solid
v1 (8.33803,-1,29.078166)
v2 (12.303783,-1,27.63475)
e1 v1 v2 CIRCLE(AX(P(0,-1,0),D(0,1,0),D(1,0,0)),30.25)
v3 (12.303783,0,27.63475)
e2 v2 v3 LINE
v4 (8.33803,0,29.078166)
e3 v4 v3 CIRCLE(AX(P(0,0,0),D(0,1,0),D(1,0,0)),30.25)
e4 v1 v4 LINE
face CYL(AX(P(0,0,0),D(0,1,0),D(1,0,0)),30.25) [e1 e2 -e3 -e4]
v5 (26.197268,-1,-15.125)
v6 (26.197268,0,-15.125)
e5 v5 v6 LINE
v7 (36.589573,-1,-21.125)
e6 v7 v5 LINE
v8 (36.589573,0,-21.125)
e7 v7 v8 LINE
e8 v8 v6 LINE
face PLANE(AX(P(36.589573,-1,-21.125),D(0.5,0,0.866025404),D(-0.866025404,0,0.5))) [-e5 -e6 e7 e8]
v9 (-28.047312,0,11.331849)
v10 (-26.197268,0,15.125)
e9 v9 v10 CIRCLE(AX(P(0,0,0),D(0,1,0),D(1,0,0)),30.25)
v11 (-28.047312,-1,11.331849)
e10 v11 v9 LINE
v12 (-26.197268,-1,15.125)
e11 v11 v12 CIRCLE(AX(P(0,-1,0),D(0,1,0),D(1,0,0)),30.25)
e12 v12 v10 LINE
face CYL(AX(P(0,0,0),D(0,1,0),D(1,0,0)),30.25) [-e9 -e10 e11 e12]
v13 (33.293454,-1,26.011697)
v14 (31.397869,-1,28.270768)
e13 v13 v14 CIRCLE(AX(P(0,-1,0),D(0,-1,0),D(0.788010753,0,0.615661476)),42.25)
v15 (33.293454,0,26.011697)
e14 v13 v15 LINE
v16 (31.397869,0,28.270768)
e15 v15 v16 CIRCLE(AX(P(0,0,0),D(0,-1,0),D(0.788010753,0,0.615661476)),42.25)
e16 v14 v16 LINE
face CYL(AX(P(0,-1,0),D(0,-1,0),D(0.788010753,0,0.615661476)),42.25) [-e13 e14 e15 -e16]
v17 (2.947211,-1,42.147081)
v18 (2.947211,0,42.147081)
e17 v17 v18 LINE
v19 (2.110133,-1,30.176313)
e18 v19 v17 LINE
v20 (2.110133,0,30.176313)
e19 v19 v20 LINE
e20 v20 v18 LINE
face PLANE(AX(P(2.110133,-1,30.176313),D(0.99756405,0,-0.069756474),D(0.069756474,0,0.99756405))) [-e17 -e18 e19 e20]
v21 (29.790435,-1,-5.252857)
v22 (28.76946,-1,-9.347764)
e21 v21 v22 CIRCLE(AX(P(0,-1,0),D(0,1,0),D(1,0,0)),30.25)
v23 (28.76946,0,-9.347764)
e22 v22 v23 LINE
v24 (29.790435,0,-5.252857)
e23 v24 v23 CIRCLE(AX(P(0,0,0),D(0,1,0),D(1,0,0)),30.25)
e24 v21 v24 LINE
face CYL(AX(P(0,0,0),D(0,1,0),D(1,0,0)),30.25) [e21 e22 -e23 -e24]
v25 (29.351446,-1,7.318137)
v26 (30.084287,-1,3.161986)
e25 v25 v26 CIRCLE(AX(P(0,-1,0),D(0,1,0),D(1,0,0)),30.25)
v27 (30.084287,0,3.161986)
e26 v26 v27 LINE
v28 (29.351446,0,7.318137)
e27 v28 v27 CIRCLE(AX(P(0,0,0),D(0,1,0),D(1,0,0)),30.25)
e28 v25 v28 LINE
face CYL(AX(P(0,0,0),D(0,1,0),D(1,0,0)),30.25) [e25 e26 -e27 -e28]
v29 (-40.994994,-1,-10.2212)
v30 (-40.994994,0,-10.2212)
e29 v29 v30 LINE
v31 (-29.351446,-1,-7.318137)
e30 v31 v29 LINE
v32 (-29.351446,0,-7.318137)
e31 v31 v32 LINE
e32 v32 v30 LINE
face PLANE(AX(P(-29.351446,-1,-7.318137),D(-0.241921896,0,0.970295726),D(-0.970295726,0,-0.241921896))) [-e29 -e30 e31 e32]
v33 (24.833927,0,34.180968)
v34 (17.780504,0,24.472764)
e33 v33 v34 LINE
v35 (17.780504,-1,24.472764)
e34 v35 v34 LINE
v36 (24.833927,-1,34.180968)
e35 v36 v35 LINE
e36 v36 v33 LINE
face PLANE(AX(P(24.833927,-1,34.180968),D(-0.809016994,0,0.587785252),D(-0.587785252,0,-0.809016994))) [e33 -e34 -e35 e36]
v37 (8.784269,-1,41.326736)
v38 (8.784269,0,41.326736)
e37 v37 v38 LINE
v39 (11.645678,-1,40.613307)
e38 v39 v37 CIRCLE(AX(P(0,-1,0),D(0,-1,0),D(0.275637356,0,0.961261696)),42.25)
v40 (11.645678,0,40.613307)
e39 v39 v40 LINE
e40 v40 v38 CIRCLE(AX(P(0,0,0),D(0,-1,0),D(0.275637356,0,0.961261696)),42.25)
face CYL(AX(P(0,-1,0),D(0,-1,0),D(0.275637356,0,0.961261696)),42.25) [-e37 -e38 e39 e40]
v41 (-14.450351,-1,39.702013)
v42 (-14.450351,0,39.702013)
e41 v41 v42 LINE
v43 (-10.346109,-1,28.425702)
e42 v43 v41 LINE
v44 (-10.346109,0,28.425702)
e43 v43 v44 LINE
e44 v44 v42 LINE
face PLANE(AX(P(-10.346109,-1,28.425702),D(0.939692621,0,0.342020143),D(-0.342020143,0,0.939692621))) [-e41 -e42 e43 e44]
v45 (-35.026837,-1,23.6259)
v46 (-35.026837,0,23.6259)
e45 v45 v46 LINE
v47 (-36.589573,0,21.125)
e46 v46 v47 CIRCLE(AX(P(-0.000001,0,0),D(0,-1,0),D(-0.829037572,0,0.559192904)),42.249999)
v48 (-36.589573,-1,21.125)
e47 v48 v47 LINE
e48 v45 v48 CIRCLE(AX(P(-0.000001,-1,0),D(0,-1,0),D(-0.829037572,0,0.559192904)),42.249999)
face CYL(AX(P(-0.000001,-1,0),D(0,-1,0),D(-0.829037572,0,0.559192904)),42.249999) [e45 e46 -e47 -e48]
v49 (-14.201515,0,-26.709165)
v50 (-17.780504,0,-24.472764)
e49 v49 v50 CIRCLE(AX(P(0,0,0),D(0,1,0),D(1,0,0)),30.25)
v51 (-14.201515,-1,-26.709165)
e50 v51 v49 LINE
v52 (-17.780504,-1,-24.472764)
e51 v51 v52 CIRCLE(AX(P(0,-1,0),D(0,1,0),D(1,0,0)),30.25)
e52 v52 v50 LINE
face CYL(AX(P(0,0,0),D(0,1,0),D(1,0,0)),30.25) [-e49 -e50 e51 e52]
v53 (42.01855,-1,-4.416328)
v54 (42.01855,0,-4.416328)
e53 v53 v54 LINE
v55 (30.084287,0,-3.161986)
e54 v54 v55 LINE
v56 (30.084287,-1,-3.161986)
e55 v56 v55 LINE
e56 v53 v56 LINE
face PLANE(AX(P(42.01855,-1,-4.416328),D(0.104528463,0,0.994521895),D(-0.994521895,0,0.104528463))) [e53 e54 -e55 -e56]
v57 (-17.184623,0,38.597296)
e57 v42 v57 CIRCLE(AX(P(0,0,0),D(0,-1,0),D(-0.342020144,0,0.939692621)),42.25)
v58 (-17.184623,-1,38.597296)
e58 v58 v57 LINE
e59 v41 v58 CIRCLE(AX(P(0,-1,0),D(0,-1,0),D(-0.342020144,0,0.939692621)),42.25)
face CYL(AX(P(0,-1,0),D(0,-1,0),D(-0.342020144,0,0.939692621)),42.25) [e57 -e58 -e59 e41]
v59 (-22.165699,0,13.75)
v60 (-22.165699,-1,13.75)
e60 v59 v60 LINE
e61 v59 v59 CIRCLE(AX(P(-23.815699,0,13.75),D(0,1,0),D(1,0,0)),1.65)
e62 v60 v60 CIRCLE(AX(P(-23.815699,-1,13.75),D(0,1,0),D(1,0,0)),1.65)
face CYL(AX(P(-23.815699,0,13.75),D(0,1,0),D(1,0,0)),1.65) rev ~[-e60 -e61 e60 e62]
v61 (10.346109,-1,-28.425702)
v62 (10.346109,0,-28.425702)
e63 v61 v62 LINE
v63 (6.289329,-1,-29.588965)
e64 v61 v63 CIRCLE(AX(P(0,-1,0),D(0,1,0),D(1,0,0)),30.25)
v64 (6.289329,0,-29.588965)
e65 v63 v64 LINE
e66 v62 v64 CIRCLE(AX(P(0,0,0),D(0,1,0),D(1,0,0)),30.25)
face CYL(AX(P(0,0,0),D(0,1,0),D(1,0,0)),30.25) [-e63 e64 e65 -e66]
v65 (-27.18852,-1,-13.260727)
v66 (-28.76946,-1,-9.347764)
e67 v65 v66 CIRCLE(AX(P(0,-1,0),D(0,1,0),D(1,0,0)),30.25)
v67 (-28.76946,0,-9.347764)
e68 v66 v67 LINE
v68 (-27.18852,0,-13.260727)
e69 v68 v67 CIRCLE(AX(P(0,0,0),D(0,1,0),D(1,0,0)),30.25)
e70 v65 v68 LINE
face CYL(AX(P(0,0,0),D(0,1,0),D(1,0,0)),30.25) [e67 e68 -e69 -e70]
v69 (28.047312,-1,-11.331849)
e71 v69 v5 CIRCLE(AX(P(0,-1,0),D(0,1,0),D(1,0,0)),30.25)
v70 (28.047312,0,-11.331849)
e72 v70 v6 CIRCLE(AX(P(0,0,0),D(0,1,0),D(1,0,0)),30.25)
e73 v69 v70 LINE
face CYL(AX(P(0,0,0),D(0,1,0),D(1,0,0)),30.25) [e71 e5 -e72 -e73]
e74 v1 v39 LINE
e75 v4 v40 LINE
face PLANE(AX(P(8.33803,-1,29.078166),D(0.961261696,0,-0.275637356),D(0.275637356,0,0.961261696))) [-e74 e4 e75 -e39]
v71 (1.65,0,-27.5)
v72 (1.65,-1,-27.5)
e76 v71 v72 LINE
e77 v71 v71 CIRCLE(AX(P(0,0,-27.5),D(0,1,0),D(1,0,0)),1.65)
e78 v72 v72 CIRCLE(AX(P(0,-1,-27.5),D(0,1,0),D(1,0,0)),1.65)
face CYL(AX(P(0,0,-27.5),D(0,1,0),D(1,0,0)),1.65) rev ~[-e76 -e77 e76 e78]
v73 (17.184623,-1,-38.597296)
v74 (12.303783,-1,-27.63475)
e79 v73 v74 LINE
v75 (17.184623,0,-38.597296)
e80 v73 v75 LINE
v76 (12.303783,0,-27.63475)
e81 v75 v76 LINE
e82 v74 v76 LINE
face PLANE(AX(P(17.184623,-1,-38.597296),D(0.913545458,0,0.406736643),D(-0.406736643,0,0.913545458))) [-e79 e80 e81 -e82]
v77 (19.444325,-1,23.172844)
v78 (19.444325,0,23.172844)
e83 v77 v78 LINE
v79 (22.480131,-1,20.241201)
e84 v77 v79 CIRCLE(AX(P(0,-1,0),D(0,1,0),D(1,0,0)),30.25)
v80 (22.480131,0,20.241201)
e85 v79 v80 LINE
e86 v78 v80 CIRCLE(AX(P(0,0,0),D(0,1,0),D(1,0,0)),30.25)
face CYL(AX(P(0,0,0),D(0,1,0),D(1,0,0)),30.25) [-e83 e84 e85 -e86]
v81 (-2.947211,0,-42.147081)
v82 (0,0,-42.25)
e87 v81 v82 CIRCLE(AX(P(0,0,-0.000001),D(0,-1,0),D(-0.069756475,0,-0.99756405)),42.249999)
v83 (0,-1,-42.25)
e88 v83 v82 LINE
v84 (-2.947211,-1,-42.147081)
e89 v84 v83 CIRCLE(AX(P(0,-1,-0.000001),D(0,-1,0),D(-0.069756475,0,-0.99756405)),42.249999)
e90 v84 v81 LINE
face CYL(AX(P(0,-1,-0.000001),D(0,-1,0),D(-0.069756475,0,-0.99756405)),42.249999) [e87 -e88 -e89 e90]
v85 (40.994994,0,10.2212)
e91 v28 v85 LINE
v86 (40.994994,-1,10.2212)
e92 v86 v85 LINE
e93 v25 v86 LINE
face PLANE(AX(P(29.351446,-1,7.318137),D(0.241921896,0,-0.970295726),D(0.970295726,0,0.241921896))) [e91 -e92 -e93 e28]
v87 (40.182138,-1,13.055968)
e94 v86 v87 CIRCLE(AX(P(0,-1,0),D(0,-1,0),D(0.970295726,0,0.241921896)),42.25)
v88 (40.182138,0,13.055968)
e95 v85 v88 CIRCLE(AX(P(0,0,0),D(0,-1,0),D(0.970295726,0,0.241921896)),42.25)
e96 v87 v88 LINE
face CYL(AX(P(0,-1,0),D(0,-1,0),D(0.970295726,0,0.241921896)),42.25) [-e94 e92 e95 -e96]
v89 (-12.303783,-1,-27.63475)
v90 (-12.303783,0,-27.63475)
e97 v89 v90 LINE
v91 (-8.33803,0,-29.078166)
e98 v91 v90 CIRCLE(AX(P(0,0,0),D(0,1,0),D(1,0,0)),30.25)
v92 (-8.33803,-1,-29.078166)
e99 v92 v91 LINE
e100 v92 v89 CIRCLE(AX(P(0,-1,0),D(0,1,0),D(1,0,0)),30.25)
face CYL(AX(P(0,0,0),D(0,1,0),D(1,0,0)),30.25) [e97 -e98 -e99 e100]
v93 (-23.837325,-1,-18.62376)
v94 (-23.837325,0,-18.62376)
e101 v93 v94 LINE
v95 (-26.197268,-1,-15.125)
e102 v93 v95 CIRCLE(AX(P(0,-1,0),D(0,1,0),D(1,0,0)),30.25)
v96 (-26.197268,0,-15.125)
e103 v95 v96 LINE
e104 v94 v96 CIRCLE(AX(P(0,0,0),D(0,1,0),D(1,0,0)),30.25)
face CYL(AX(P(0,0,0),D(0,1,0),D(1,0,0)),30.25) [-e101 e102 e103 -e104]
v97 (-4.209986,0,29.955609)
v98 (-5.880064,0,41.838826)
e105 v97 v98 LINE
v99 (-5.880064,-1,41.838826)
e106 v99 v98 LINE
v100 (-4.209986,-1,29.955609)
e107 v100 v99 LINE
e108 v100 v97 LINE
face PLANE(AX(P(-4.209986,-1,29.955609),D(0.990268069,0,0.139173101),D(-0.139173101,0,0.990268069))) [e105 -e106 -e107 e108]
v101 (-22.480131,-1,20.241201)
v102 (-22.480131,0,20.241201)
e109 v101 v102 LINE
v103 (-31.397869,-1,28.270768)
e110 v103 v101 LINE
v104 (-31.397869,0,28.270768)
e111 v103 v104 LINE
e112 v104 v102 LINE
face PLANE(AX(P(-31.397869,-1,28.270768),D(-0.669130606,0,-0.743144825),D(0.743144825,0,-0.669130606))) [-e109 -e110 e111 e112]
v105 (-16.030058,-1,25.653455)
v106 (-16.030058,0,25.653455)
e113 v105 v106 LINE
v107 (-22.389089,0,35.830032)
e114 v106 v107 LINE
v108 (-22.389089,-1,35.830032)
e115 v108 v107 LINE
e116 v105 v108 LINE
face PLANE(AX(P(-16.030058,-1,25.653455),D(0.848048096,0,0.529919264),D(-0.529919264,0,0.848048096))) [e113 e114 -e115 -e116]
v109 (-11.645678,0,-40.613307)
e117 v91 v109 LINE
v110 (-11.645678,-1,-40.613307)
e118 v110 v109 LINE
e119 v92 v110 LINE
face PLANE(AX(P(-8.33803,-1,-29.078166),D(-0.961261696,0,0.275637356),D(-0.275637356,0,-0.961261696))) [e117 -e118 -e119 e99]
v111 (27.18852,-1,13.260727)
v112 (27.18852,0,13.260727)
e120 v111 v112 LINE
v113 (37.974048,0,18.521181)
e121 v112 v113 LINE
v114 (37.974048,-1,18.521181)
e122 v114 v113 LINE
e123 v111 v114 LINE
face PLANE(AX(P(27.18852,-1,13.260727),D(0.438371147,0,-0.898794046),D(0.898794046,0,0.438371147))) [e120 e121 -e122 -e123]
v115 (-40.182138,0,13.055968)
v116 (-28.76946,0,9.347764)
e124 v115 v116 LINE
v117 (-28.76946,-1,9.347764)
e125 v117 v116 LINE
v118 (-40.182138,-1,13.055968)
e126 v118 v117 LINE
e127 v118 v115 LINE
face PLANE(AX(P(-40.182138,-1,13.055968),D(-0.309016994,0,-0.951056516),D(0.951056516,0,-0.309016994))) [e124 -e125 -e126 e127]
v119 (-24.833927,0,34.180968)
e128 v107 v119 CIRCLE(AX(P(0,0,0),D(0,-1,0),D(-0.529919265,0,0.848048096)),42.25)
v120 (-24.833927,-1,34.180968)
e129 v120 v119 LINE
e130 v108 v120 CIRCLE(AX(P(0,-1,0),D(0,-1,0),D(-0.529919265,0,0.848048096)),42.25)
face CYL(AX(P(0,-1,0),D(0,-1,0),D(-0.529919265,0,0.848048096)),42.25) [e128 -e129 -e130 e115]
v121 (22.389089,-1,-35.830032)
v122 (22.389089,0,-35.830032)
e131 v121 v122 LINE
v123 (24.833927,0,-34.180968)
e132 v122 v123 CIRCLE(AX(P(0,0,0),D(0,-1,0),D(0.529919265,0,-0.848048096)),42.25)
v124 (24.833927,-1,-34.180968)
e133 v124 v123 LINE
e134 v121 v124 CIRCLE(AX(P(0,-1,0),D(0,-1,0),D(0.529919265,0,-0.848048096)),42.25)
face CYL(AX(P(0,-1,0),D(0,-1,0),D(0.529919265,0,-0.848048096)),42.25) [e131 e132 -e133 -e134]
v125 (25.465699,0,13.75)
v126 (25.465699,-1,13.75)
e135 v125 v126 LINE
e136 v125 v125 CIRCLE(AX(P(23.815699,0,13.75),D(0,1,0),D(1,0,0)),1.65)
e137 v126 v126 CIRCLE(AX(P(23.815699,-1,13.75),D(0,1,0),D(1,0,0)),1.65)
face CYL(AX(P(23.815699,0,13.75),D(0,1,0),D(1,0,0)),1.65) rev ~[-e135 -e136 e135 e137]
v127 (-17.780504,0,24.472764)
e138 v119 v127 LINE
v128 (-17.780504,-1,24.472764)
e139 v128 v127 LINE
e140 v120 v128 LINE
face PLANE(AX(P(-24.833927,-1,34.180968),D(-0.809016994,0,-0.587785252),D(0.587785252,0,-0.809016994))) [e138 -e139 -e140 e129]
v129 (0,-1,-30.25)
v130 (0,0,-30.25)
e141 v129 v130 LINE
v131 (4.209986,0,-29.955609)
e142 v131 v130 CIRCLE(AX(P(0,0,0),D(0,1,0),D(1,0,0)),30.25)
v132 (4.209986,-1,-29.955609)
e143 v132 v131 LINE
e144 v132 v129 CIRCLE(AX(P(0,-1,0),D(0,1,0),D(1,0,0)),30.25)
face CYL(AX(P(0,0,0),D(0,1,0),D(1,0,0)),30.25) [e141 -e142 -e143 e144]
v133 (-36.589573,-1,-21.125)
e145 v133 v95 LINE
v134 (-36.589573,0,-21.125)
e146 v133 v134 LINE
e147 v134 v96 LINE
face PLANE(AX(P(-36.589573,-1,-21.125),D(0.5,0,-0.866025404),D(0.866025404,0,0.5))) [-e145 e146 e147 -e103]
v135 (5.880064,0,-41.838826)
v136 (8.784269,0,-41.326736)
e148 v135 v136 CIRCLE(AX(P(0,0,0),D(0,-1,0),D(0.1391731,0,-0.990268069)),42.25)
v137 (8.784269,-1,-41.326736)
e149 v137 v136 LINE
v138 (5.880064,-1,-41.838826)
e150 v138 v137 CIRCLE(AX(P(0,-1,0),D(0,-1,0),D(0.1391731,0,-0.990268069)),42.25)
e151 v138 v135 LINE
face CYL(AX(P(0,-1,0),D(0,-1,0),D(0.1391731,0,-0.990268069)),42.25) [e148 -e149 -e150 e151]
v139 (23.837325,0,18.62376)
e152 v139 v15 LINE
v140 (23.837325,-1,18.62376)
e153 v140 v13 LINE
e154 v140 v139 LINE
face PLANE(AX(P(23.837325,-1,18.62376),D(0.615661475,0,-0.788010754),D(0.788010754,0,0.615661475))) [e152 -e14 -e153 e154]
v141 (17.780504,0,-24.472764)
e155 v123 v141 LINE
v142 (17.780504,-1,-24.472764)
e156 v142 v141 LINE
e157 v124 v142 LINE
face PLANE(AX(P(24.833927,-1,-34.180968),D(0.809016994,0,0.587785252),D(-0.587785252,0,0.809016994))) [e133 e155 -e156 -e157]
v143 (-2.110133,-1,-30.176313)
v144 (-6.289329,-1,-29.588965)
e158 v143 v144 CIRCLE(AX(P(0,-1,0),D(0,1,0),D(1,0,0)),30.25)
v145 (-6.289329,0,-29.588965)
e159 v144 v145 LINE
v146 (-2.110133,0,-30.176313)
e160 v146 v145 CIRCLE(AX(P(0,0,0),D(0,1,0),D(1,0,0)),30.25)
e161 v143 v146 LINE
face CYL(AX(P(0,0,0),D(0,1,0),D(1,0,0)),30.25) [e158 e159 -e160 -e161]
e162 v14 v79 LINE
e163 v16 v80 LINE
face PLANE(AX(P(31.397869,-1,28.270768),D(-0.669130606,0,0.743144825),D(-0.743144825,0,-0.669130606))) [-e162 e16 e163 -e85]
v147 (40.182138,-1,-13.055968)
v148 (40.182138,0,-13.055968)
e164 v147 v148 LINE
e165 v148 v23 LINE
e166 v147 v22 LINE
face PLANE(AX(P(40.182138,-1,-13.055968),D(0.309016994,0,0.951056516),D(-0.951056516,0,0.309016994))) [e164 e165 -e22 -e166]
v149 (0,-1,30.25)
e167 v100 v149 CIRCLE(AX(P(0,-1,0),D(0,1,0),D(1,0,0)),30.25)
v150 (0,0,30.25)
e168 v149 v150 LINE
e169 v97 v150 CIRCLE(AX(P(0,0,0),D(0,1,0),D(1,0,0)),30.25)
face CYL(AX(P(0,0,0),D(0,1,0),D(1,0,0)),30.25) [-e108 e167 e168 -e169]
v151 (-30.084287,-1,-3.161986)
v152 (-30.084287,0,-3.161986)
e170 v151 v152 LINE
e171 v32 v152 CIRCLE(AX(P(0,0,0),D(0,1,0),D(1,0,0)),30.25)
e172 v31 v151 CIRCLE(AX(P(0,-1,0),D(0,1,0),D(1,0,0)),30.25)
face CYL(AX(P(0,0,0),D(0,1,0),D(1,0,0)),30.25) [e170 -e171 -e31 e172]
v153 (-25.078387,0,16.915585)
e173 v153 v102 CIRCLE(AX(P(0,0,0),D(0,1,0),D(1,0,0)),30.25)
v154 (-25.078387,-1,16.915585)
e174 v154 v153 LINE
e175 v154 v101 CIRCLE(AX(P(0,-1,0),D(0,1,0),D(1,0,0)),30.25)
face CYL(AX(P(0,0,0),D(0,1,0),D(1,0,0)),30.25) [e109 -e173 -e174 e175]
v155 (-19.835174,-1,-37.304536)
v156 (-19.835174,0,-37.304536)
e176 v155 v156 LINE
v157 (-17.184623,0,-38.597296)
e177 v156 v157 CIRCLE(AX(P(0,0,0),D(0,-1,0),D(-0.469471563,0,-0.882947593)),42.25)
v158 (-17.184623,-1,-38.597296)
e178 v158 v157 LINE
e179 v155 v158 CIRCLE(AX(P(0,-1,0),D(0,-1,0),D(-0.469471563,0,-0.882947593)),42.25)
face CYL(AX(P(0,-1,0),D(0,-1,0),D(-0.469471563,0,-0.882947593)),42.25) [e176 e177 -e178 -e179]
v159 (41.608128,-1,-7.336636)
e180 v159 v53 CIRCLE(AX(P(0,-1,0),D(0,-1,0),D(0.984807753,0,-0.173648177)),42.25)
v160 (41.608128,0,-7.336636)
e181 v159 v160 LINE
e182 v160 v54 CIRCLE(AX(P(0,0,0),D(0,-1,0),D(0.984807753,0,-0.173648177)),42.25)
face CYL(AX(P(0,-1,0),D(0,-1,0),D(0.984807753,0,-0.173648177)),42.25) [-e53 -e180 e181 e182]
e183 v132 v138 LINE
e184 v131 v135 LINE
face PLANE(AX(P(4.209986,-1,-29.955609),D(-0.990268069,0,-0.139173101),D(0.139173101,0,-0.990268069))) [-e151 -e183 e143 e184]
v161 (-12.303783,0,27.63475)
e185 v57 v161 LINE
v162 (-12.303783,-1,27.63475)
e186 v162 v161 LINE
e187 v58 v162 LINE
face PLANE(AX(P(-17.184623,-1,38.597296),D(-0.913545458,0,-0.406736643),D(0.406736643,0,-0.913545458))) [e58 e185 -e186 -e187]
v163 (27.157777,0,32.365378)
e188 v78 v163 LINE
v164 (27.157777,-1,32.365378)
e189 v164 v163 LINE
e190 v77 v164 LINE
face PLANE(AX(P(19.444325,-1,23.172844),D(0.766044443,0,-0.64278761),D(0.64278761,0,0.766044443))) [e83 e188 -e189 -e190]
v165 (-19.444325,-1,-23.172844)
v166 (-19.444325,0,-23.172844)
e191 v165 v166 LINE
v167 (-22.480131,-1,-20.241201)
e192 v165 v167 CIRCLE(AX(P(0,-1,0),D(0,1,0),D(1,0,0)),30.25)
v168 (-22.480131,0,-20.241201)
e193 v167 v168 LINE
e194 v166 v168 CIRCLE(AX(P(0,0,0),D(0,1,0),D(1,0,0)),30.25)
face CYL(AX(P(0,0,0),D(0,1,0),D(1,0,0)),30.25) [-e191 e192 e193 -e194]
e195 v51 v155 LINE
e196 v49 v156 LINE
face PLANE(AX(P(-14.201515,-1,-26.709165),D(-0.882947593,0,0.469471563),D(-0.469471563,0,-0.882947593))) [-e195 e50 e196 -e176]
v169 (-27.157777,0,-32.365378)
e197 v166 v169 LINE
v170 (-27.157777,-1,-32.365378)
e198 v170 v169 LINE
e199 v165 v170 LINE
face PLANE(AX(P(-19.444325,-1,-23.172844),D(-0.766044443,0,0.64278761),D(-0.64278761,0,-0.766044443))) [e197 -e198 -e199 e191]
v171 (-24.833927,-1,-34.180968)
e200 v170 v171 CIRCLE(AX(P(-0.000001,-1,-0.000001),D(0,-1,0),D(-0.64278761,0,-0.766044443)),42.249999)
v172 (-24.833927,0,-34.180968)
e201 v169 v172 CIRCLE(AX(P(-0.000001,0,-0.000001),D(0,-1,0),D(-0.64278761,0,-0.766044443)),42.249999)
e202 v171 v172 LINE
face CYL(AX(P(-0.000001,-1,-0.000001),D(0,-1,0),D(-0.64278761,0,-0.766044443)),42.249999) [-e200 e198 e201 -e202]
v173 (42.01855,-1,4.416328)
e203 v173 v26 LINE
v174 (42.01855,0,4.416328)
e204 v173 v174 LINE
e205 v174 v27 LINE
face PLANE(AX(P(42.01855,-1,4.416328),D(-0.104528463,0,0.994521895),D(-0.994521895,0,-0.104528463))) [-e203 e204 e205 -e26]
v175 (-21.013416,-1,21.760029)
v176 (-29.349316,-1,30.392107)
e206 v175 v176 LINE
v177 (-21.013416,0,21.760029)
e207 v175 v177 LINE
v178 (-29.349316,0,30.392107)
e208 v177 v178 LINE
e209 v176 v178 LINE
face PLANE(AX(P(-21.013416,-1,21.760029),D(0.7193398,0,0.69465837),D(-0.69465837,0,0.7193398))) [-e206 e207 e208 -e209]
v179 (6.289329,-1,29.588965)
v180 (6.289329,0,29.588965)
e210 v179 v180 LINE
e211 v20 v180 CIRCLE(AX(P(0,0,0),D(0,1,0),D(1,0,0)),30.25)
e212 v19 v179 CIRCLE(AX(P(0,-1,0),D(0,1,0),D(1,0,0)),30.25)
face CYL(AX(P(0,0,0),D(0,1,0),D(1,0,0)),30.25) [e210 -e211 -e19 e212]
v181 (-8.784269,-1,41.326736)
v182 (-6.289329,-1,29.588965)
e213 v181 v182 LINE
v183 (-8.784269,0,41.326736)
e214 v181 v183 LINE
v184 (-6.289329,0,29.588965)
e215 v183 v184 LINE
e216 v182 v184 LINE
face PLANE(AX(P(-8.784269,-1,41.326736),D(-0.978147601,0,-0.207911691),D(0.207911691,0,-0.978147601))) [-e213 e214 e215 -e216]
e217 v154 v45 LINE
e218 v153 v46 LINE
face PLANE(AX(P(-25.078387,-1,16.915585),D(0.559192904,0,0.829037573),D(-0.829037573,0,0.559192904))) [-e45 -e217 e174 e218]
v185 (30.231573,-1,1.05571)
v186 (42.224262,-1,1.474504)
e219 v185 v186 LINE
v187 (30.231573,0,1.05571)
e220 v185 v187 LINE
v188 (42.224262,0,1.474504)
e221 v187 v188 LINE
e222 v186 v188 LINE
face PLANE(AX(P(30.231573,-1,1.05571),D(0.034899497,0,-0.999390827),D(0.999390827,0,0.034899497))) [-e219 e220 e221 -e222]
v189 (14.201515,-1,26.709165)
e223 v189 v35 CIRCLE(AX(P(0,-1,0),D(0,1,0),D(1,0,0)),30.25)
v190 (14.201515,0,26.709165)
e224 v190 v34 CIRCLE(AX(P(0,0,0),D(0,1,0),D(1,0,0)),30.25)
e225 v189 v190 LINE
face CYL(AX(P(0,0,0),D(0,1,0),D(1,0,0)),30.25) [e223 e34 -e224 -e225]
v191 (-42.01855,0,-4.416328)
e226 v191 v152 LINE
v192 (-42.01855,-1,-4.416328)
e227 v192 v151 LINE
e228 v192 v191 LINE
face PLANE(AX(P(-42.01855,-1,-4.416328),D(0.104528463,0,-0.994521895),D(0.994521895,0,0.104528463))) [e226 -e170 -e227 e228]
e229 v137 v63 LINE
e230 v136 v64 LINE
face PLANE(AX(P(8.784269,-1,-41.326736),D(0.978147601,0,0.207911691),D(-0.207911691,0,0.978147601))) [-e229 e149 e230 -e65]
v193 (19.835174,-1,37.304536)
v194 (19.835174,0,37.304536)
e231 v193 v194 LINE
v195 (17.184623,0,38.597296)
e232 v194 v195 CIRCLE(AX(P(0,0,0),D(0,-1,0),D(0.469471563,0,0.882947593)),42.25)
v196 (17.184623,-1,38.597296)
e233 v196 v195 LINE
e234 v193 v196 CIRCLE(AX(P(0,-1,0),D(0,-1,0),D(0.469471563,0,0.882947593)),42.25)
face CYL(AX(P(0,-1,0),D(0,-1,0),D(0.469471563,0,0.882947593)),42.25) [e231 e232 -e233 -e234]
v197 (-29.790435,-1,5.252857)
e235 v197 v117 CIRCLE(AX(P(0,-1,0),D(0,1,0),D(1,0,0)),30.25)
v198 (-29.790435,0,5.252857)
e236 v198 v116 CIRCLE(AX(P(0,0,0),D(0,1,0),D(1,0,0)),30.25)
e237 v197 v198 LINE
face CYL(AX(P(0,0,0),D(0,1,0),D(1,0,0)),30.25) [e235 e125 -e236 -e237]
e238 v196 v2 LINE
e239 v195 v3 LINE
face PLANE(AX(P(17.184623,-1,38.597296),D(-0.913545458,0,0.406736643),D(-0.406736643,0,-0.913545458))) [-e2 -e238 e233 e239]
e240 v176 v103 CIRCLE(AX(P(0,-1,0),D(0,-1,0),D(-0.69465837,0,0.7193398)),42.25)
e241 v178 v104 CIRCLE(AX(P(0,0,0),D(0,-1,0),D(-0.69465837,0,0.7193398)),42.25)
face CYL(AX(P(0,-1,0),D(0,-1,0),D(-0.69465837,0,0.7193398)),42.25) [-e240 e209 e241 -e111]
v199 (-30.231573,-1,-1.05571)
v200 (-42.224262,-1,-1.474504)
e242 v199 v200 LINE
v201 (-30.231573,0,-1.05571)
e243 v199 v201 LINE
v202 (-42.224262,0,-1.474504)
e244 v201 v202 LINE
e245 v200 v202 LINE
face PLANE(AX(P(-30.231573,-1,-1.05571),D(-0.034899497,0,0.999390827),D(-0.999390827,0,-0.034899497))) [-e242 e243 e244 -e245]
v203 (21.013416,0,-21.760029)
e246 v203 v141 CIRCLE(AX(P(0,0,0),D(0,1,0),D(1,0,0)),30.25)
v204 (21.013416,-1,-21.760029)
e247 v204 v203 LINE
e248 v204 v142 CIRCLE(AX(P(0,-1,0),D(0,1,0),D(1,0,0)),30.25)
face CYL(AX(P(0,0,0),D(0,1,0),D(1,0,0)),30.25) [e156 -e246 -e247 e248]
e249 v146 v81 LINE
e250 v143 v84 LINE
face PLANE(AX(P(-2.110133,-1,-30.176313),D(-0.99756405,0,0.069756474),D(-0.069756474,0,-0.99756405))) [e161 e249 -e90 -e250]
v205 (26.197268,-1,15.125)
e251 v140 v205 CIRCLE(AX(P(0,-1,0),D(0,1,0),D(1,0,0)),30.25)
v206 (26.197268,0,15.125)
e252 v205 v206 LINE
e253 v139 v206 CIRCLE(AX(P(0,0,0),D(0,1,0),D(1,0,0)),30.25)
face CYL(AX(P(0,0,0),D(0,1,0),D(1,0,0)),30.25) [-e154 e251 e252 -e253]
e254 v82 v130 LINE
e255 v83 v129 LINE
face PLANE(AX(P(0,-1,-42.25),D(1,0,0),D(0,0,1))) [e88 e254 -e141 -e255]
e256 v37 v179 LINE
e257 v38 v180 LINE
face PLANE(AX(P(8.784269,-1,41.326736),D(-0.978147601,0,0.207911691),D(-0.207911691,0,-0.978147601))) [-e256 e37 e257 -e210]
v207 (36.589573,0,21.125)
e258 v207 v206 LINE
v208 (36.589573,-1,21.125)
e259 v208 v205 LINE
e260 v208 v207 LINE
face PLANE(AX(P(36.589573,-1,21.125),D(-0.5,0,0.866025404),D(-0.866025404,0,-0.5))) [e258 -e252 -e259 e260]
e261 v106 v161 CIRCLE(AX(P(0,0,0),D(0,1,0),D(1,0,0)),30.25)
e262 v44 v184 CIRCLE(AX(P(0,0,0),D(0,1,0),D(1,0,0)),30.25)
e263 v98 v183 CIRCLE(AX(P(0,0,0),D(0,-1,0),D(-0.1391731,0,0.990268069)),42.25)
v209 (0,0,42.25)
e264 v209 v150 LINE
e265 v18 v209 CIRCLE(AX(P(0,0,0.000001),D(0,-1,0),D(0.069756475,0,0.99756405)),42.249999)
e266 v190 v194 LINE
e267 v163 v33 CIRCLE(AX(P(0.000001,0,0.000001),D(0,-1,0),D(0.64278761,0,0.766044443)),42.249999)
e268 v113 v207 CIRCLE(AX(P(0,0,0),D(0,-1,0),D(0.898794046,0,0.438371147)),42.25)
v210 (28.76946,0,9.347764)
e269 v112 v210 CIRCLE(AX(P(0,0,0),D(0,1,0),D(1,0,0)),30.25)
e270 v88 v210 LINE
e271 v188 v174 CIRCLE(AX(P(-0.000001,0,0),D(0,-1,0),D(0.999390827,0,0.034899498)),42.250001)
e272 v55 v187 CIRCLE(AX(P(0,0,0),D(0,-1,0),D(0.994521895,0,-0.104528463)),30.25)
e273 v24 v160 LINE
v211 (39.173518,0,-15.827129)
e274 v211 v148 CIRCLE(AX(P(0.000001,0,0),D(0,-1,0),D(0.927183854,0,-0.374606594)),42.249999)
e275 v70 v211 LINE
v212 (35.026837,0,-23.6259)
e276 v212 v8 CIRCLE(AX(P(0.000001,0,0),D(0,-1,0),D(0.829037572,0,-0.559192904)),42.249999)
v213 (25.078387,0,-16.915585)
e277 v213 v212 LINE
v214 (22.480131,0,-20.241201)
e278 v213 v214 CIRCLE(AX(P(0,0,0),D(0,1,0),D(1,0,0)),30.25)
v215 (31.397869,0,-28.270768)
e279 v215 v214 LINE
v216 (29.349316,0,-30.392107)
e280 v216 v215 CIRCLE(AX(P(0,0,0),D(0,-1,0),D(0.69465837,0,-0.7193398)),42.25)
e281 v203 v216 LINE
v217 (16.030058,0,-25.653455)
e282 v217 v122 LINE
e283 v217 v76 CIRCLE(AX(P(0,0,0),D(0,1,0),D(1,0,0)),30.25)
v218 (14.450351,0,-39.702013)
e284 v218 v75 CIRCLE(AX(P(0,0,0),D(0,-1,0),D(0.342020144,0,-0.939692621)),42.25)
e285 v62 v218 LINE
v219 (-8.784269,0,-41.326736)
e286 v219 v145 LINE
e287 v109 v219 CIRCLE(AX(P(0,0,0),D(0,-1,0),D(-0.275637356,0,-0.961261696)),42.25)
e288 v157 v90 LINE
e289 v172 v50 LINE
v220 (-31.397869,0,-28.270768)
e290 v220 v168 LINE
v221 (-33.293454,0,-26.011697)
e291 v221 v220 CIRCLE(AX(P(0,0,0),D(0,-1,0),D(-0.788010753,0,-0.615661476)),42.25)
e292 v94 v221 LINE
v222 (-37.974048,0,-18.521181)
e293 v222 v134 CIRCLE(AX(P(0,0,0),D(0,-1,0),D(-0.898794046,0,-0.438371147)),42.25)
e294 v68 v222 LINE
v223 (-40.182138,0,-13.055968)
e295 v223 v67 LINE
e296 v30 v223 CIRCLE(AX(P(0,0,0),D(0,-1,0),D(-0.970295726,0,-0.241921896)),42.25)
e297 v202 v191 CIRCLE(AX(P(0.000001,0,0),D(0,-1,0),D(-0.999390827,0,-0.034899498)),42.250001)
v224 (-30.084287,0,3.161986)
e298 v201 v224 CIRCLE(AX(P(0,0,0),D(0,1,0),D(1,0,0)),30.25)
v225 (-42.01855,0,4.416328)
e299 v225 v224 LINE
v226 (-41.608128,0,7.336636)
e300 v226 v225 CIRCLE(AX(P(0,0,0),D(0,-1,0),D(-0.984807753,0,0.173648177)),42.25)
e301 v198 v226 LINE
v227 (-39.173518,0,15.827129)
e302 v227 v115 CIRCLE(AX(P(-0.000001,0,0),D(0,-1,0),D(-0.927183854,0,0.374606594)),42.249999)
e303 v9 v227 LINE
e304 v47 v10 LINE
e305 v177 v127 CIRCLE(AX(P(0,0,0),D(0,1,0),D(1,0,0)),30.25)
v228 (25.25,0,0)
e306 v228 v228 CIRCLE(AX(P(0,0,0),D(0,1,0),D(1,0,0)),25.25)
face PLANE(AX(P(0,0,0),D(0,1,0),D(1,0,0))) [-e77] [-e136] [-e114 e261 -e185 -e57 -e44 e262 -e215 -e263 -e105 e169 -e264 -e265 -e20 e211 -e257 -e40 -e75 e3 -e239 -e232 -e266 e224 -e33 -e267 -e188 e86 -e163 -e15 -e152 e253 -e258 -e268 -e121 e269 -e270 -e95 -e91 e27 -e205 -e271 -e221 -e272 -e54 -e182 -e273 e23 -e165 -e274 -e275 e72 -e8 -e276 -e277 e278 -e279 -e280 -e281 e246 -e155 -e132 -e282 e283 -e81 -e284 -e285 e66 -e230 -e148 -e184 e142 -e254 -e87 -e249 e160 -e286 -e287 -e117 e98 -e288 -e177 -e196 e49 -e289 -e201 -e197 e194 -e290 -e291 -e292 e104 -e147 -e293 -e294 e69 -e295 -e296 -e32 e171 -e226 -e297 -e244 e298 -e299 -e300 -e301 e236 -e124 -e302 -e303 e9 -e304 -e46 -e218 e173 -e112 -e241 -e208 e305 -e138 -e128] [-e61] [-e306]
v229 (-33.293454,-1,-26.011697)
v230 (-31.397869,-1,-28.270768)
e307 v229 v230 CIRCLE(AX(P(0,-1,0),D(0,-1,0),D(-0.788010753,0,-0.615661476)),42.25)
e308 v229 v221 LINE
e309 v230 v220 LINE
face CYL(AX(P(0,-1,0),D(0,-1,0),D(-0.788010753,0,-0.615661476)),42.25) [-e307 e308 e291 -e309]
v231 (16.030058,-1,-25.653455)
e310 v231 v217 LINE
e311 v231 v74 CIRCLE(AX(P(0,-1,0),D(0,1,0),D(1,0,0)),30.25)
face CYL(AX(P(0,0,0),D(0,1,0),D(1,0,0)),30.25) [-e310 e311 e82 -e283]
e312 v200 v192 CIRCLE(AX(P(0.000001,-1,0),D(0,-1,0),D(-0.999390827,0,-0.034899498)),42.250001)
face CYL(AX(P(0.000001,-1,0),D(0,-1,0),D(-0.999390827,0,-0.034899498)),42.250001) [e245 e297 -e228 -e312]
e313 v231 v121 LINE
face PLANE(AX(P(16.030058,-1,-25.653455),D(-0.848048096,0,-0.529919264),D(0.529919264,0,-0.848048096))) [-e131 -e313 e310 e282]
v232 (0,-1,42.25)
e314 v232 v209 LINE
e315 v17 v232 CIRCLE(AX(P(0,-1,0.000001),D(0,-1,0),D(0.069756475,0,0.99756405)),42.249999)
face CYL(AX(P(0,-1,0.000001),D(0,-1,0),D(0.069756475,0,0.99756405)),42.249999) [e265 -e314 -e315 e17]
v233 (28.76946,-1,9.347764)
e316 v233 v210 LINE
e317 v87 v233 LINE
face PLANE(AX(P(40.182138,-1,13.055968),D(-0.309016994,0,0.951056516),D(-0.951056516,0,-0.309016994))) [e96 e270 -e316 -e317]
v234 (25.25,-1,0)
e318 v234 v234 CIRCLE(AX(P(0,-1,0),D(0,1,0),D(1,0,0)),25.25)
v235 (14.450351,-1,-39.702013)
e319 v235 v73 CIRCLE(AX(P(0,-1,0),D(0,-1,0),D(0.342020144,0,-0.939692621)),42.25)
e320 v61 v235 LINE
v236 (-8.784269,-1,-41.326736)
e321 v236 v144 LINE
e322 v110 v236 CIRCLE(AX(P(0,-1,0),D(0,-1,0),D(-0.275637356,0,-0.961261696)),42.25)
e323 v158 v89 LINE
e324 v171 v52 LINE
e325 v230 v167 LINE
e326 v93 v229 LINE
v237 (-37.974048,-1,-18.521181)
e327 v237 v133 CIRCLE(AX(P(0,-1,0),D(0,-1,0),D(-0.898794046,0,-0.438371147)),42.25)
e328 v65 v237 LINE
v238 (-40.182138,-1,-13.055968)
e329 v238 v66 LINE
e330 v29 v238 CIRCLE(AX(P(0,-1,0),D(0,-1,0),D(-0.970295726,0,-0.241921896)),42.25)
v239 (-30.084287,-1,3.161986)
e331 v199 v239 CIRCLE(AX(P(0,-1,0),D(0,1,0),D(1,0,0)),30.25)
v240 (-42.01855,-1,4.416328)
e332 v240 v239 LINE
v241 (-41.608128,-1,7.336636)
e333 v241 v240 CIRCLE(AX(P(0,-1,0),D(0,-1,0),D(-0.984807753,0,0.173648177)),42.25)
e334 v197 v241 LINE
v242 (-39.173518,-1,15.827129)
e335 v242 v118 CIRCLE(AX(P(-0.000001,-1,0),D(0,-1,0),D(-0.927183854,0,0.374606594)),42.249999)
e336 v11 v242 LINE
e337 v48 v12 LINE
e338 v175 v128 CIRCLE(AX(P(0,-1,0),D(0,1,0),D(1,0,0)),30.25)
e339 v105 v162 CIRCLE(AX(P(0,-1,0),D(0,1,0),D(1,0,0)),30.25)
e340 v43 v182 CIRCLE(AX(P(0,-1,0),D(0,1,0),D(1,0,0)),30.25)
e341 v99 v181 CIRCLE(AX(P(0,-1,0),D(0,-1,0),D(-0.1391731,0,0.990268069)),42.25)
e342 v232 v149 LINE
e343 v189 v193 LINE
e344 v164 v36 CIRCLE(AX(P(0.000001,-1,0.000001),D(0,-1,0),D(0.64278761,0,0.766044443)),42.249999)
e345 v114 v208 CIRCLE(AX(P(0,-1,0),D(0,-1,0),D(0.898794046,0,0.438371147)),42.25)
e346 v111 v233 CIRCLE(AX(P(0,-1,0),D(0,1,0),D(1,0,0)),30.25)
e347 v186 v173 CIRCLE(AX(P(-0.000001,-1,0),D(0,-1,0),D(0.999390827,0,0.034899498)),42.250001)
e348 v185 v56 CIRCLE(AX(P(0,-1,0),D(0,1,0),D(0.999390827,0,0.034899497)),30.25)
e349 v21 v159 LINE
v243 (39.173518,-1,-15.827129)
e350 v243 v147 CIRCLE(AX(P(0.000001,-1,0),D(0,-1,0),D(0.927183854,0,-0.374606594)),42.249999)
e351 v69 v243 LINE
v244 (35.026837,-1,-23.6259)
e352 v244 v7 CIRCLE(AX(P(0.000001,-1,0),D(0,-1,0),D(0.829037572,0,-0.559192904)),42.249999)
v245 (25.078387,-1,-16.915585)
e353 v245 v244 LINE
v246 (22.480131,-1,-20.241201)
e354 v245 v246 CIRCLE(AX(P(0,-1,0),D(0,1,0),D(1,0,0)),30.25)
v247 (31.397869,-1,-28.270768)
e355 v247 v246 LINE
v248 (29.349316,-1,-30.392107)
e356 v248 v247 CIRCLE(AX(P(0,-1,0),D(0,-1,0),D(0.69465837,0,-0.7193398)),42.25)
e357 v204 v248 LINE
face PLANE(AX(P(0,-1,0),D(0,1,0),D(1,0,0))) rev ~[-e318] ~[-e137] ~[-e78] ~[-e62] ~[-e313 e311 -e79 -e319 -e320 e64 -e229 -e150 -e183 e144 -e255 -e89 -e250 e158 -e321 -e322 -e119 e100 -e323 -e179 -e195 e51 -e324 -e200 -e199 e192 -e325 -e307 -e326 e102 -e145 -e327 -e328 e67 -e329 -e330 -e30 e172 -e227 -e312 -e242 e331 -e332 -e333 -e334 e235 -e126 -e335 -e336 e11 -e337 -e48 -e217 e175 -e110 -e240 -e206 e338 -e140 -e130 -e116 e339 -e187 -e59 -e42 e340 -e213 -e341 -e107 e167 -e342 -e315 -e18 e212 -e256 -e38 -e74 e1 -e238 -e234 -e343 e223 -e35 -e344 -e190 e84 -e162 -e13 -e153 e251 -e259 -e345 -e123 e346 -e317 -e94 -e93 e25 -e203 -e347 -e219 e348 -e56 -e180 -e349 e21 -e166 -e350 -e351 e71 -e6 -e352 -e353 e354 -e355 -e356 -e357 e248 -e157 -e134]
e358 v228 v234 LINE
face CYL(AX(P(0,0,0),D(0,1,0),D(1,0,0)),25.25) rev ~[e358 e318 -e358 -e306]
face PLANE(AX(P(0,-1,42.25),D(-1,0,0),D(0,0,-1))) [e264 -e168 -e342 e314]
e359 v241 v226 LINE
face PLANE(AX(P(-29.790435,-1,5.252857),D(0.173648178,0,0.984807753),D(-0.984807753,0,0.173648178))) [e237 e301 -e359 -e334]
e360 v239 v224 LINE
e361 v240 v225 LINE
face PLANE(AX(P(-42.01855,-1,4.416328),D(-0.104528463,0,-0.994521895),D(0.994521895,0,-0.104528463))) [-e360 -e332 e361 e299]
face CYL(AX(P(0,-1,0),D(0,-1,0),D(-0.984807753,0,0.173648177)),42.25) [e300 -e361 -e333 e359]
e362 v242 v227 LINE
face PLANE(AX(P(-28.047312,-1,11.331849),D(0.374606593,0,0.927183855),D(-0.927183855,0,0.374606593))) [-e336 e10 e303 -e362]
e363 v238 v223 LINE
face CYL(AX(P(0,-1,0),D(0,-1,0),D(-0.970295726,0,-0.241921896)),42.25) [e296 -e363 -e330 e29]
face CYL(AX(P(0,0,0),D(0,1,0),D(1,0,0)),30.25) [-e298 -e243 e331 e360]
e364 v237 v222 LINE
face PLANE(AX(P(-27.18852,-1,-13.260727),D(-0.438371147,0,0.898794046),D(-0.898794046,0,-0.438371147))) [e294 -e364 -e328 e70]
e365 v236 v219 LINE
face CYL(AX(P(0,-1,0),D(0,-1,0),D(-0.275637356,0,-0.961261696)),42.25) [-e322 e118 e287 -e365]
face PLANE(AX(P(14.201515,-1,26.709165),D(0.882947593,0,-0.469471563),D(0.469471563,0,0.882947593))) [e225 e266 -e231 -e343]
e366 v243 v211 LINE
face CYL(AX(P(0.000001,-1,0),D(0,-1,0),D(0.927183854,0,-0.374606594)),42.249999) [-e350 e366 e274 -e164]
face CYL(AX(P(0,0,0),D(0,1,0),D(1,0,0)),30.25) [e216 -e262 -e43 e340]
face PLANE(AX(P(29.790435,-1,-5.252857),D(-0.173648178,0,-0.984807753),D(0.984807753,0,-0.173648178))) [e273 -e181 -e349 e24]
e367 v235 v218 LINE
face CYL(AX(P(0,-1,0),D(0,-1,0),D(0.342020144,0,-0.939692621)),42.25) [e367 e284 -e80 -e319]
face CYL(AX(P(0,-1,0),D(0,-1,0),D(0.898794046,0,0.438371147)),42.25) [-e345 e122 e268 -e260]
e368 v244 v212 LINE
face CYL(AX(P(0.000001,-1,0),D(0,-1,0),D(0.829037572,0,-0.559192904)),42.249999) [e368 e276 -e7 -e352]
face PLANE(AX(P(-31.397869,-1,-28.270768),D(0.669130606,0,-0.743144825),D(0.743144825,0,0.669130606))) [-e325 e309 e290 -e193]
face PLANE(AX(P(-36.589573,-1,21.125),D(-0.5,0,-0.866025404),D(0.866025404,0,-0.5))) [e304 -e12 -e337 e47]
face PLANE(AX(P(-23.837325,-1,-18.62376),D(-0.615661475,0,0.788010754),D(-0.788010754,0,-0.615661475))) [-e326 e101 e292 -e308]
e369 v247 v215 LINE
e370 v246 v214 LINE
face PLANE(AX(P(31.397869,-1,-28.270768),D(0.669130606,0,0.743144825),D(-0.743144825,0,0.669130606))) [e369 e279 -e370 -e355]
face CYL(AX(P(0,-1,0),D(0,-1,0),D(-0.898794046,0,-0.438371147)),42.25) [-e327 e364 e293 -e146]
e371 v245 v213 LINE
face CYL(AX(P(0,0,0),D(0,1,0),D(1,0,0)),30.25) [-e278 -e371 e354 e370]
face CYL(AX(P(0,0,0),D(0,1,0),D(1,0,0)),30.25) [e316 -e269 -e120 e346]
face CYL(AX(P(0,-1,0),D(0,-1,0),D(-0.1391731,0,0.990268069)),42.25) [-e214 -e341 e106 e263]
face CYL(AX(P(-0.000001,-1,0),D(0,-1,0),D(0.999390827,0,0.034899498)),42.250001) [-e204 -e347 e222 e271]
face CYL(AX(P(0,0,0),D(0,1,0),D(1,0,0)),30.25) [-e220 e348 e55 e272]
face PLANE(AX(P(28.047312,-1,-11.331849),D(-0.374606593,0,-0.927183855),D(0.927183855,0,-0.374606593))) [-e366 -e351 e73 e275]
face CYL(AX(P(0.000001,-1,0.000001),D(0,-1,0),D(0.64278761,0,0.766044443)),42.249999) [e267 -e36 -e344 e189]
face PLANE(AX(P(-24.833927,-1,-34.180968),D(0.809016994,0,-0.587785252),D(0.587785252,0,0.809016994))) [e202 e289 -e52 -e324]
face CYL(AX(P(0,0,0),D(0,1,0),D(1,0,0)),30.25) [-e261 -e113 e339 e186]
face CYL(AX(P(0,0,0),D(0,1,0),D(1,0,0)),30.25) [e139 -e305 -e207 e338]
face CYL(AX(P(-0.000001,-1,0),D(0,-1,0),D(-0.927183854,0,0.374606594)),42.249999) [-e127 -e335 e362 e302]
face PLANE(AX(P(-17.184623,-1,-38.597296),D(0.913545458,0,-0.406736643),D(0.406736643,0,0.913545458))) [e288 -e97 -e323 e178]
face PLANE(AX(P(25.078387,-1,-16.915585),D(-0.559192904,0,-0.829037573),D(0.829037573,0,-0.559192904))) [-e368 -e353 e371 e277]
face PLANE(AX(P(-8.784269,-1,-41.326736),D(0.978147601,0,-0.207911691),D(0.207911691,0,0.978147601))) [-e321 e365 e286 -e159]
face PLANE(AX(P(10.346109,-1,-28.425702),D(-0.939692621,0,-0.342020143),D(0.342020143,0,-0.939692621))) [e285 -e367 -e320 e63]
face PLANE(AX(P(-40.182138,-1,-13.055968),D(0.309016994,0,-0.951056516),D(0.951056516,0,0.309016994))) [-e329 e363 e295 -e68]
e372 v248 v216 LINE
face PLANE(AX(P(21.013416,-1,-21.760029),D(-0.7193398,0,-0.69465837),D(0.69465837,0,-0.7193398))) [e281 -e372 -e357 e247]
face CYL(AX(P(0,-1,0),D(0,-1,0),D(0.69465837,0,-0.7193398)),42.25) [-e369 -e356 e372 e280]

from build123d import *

# Parameters (mm, degrees)
SKETCH1_R           = 30.25
SKETCH1_R_2         = 25.25
EXTRUDE_THIN1_DEPTH = 1
SKETCH2_R           = 1.65
CUT_EXTRUDE3_DEPTH  = 10
BOSS_EXTRUDE1_DEPTH = 1


with BuildPart() as part:
    # Sketch1 → Extrude-Thin1 (new body)
    with BuildSketch(Plane(origin=(0, 0, 0), x_dir=(1, 0, 0), z_dir=(0, 1, 0))):
        Circle(SKETCH1_R)
        Circle(SKETCH1_R_2, mode=Mode.SUBTRACT)
    extrude(amount=-EXTRUDE_THIN1_DEPTH)

    # Sketch2 → Cut-Extrude3 (cut)
    with BuildSketch(Plane(origin=(0, 0, 0), x_dir=(1, 0, 0), z_dir=(0, 1, 0))):
        with Locations((0, 27.5)):
            Circle(SKETCH2_R)
        with Locations((23.815698604, -13.75)):
            Circle(SKETCH2_R)
        with Locations((-23.815698604, -13.75)):
            Circle(SKETCH2_R)
    extrude(amount=-CUT_EXTRUDE3_DEPTH, mode=Mode.SUBTRACT)

    # Sketch5 → Boss-Extrude1 (add)
    with BuildSketch(Plane.XZ.offset(1)):
        with BuildLine():
            Line((0, 42.25), (0, 30.25))
            ThreePointArc((0, 30.25), (1.055709775, 30.231572517), (2.110133331, 30.17631252))
            Line((2.110133331, 30.17631252), (2.947211016, 42.147081123))
            ThreePointArc((2.947211016, 42.147081123), (1.474503736, 42.224262442), (0, 42.25))
        make_face()
        with BuildLine():
            Line((8.784268937, 41.326736131), (6.289328647, 29.588964922))
            ThreePointArc((6.289328647, 29.588964922), (7.318137342, 29.35144572), (8.338030013, 29.078166302))
            Line((8.338030013, 29.078166302), (11.645678283, 40.613306653))
            ThreePointArc((11.645678283, 40.613306653), (10.221200089, 40.994994435), (8.784268937, 41.326736131))
        make_face()
        with BuildLine():
            Line((17.18462317, 38.597295585), (12.303783453, 27.634750094))
            ThreePointArc((12.303783453, 27.634750094), (13.26072719, 27.188519901), (14.201514774, 26.709164684))
            Line((14.201514774, 26.709164684), (19.835173528, 37.304535798))
            ThreePointArc((19.835173528, 37.304535798), (18.521180952, 37.974048456), (17.18462317, 38.597295585))
        make_face()
        with BuildLine():
            Line((24.833926909, 34.180968012), (17.780503882, 24.47276408))
            ThreePointArc((17.780503882, 24.47276408), (18.623759629, 23.837325297), (19.444325193, 23.172844404))
            Line((19.444325193, 23.172844404), (27.157776509, 32.365377722))
            ThreePointArc((27.157776509, 32.365377722), (26.011697333, 33.29345434), (24.833926909, 34.180968012))
        make_face()
        with BuildLine():
            Line((31.397868876, 28.270768119), (22.480130971, 20.241200842))
            ThreePointArc((22.480130971, 20.241200842), (23.172844404, 19.444325193), (23.837325297, 18.623759629))
            Line((23.837325297, 18.623759629), (33.29345434, 26.011697333))
            ThreePointArc((33.29345434, 26.011697333), (32.365377722, 27.157776509), (31.397868876, 28.270768119))
        make_face()
        with BuildLine():
            Line((36.58957331, 21.125), (26.197268464, 15.125))
            ThreePointArc((26.197268464, 15.125), (26.709164684, 14.201514774), (27.188519901, 13.26072719))
            Line((27.188519901, 13.26072719), (37.974048456, 18.521180952))
            ThreePointArc((37.974048456, 18.521180952), (37.304535798, 19.835173528), (36.58957331, 21.125))
        make_face()
        with BuildLine():
            Line((40.182137813, 13.055968012), (28.769459618, 9.34776408))
            ThreePointArc((28.769459618, 9.34776408), (29.078166302, 8.338030013), (29.35144572, 7.318137342))
            Line((29.35144572, 7.318137342), (40.994994435, 10.221200089))
            ThreePointArc((40.994994435, 10.221200089), (40.613306653, 11.645678283), (40.182137813, 13.055968012))
        make_face()
        with BuildLine():
            Line((42.018550079, 4.416327573), (30.084287335, 3.161986014))
            ThreePointArc((30.084287335, 3.161986014), (30.17631252, 2.110133331), (30.231572517, 1.055709775))
            Line((30.231572517, 1.055709775), (42.224262442, 1.474503736))
            ThreePointArc((42.224262442, 1.474503736), (42.147081123, 2.947211016), (42.018550079, 4.416327573))
        make_face()
        with BuildLine():
            Line((42.018550079, -4.416327573), (30.084287335, -3.161986014))
            ThreePointArc((30.084287335, -3.161986014), (29.955609079, -4.209986304), (29.790434529, -5.252857374))
            Line((29.790434529, -5.252857374), (41.608127565, -7.336635506))
            ThreePointArc((41.608127565, -7.336635506), (41.838825904, -5.880063516), (42.018550079, -4.416327573))
        make_face()
        with BuildLine():
            Line((40.182137813, -13.055968012), (28.769459618, -9.34776408))
            ThreePointArc((28.769459618, -9.34776408), (28.425701779, -10.346109336), (28.047311601, -11.331849451))
            Line((28.047311601, -11.331849451), (39.173517855, -15.827128572))
            ThreePointArc((39.173517855, -15.827128572), (39.702013228, -14.450351056), (40.182137813, -13.055968012))
        make_face()
        with BuildLine():
            Line((36.58957331, -21.125), (26.197268464, -15.125))
            ThreePointArc((26.197268464, -15.125), (25.653454909, -16.030057743), (25.07838657, -16.91558533))
            Line((25.07838657, -16.91558533), (35.02683744, -23.625900172))
            ThreePointArc((35.02683744, -23.625900172), (35.830032063, -22.389088914), (36.58957331, -21.125))
        make_face()
        with BuildLine():
            Line((31.397868876, -28.270768119), (22.480130971, -20.241200842))
            ThreePointArc((22.480130971, -20.241200842), (21.76002896, -21.013415706), (21.013415706, -21.76002896))
            Line((21.013415706, -21.76002896), (29.349316152, -30.392106564))
            ThreePointArc((29.349316152, -30.392106564), (30.392106564, -29.349316152), (31.397868876, -28.270768119))
        make_face()
        with BuildLine():
            Line((24.833926909, -34.180968012), (17.780503882, -24.47276408))
            ThreePointArc((17.780503882, -24.47276408), (16.91558533, -25.07838657), (16.030057743, -25.653454909))
            Line((16.030057743, -25.653454909), (22.389088914, -35.830032063))
            ThreePointArc((22.389088914, -35.830032063), (23.625900172, -35.02683744), (24.833926909, -34.180968012))
        make_face()
        with BuildLine():
            Line((17.18462317, -38.597295585), (12.303783453, -27.634750094))
            ThreePointArc((12.303783453, -27.634750094), (11.331849451, -28.047311601), (10.346109336, -28.425701779))
            Line((10.346109336, -28.425701779), (14.450351056, -39.702013228))
            ThreePointArc((14.450351056, -39.702013228), (15.827128572, -39.173517855), (17.18462317, -38.597295585))
        make_face()
        with BuildLine():
            Line((8.784268937, -41.326736131), (6.289328647, -29.588964922))
            ThreePointArc((6.289328647, -29.588964922), (5.252857374, -29.790434529), (4.209986304, -29.955609079))
            Line((4.209986304, -29.955609079), (5.880063516, -41.838825904))
            ThreePointArc((5.880063516, -41.838825904), (7.336635506, -41.608127565), (8.784268937, -41.326736131))
        make_face()
        with BuildLine():
            Line((0, -42.25), (0, -30.25))
            ThreePointArc((0, -30.25), (-1.055709775, -30.231572517), (-2.110133331, -30.17631252))
            Line((-2.110133331, -30.17631252), (-2.947211016, -42.147081123))
            ThreePointArc((-2.947211016, -42.147081123), (-1.474503736, -42.224262442), (0, -42.25))
        make_face()
        with BuildLine():
            Line((-8.784268937, -41.326736131), (-6.289328647, -29.588964922))
            ThreePointArc((-6.289328647, -29.588964922), (-7.318137342, -29.35144572), (-8.338030013, -29.078166302))
            Line((-8.338030013, -29.078166302), (-11.645678283, -40.613306653))
            ThreePointArc((-11.645678283, -40.613306653), (-10.221200089, -40.994994435), (-8.784268937, -41.326736131))
        make_face()
        with BuildLine():
            Line((-17.18462317, -38.597295585), (-12.303783453, -27.634750094))
            ThreePointArc((-12.303783453, -27.634750094), (-13.26072719, -27.188519901), (-14.201514774, -26.709164684))
            Line((-14.201514774, -26.709164684), (-19.835173528, -37.304535798))
            ThreePointArc((-19.835173528, -37.304535798), (-18.521180952, -37.974048456), (-17.18462317, -38.597295585))
        make_face()
        with BuildLine():
            Line((-24.833926909, -34.180968012), (-17.780503882, -24.47276408))
            ThreePointArc((-17.780503882, -24.47276408), (-18.623759629, -23.837325297), (-19.444325193, -23.172844404))
            Line((-19.444325193, -23.172844404), (-27.157776509, -32.365377722))
            ThreePointArc((-27.157776509, -32.365377722), (-26.011697333, -33.29345434), (-24.833926909, -34.180968012))
        make_face()
        with BuildLine():
            Line((-31.397868876, -28.270768119), (-22.480130971, -20.241200842))
            ThreePointArc((-22.480130971, -20.241200842), (-23.172844404, -19.444325193), (-23.837325297, -18.623759629))
            Line((-23.837325297, -18.623759629), (-33.29345434, -26.011697333))
            ThreePointArc((-33.29345434, -26.011697333), (-32.365377722, -27.157776509), (-31.397868876, -28.270768119))
        make_face()
        with BuildLine():
            Line((-36.58957331, -21.125), (-26.197268464, -15.125))
            ThreePointArc((-26.197268464, -15.125), (-26.709164684, -14.201514774), (-27.188519901, -13.26072719))
            Line((-27.188519901, -13.26072719), (-37.974048456, -18.521180952))
            ThreePointArc((-37.974048456, -18.521180952), (-37.304535798, -19.835173528), (-36.58957331, -21.125))
        make_face()
        with BuildLine():
            Line((-40.182137813, -13.055968012), (-28.769459618, -9.34776408))
            ThreePointArc((-28.769459618, -9.34776408), (-29.078166302, -8.338030013), (-29.35144572, -7.318137342))
            Line((-29.35144572, -7.318137342), (-40.994994435, -10.221200089))
            ThreePointArc((-40.994994435, -10.221200089), (-40.613306653, -11.645678283), (-40.182137813, -13.055968012))
        make_face()
        with BuildLine():
            Line((-42.018550079, -4.416327573), (-30.084287335, -3.161986014))
            ThreePointArc((-30.084287335, -3.161986014), (-30.17631252, -2.110133331), (-30.231572517, -1.055709775))
            Line((-30.231572517, -1.055709775), (-42.224262442, -1.474503736))
            ThreePointArc((-42.224262442, -1.474503736), (-42.147081123, -2.947211016), (-42.018550079, -4.416327573))
        make_face()
        with BuildLine():
            Line((-42.018550079, 4.416327573), (-30.084287335, 3.161986014))
            ThreePointArc((-30.084287335, 3.161986014), (-29.955609079, 4.209986304), (-29.790434529, 5.252857374))
            Line((-29.790434529, 5.252857374), (-41.608127565, 7.336635506))
            ThreePointArc((-41.608127565, 7.336635506), (-41.838825904, 5.880063516), (-42.018550079, 4.416327573))
        make_face()
        with BuildLine():
            Line((-40.182137813, 13.055968012), (-28.769459618, 9.34776408))
            ThreePointArc((-28.769459618, 9.34776408), (-28.425701779, 10.346109336), (-28.047311601, 11.331849451))
            Line((-28.047311601, 11.331849451), (-39.173517855, 15.827128572))
            ThreePointArc((-39.173517855, 15.827128572), (-39.702013228, 14.450351056), (-40.182137813, 13.055968012))
        make_face()
        with BuildLine():
            Line((-36.58957331, 21.125), (-26.197268464, 15.125))
            ThreePointArc((-26.197268464, 15.125), (-25.653454909, 16.030057743), (-25.07838657, 16.91558533))
            Line((-25.07838657, 16.91558533), (-35.02683744, 23.625900172))
            ThreePointArc((-35.02683744, 23.625900172), (-35.830032063, 22.389088914), (-36.58957331, 21.125))
        make_face()
        with BuildLine():
            Line((-31.397868876, 28.270768119), (-22.480130971, 20.241200842))
            ThreePointArc((-22.480130971, 20.241200842), (-21.76002896, 21.013415706), (-21.013415706, 21.76002896))
            Line((-21.013415706, 21.76002896), (-29.349316152, 30.392106564))
            ThreePointArc((-29.349316152, 30.392106564), (-30.392106564, 29.349316152), (-31.397868876, 28.270768119))
        make_face()
        with BuildLine():
            Line((-24.833926909, 34.180968012), (-17.780503882, 24.47276408))
            ThreePointArc((-17.780503882, 24.47276408), (-16.91558533, 25.07838657), (-16.030057743, 25.653454909))
            Line((-16.030057743, 25.653454909), (-22.389088914, 35.830032063))
            ThreePointArc((-22.389088914, 35.830032063), (-23.625900172, 35.02683744), (-24.833926909, 34.180968012))
        make_face()
        with BuildLine():
            Line((-17.18462317, 38.597295585), (-12.303783453, 27.634750094))
            ThreePointArc((-12.303783453, 27.634750094), (-11.331849451, 28.047311601), (-10.346109336, 28.425701779))
            Line((-10.346109336, 28.425701779), (-14.450351056, 39.702013228))
            ThreePointArc((-14.450351056, 39.702013228), (-15.827128572, 39.173517855), (-17.18462317, 38.597295585))
        make_face()
        with BuildLine():
            Line((-8.784268937, 41.326736131), (-6.289328647, 29.588964922))
            ThreePointArc((-6.289328647, 29.588964922), (-5.252857374, 29.790434529), (-4.209986304, 29.955609079))
            Line((-4.209986304, 29.955609079), (-5.880063516, 41.838825904))
            ThreePointArc((-5.880063516, 41.838825904), (-7.336635506, 41.608127565), (-8.784268937, 41.326736131))
        make_face()
    extrude(amount=-BOSS_EXTRUDE1_DEPTH)


solid = part.part
